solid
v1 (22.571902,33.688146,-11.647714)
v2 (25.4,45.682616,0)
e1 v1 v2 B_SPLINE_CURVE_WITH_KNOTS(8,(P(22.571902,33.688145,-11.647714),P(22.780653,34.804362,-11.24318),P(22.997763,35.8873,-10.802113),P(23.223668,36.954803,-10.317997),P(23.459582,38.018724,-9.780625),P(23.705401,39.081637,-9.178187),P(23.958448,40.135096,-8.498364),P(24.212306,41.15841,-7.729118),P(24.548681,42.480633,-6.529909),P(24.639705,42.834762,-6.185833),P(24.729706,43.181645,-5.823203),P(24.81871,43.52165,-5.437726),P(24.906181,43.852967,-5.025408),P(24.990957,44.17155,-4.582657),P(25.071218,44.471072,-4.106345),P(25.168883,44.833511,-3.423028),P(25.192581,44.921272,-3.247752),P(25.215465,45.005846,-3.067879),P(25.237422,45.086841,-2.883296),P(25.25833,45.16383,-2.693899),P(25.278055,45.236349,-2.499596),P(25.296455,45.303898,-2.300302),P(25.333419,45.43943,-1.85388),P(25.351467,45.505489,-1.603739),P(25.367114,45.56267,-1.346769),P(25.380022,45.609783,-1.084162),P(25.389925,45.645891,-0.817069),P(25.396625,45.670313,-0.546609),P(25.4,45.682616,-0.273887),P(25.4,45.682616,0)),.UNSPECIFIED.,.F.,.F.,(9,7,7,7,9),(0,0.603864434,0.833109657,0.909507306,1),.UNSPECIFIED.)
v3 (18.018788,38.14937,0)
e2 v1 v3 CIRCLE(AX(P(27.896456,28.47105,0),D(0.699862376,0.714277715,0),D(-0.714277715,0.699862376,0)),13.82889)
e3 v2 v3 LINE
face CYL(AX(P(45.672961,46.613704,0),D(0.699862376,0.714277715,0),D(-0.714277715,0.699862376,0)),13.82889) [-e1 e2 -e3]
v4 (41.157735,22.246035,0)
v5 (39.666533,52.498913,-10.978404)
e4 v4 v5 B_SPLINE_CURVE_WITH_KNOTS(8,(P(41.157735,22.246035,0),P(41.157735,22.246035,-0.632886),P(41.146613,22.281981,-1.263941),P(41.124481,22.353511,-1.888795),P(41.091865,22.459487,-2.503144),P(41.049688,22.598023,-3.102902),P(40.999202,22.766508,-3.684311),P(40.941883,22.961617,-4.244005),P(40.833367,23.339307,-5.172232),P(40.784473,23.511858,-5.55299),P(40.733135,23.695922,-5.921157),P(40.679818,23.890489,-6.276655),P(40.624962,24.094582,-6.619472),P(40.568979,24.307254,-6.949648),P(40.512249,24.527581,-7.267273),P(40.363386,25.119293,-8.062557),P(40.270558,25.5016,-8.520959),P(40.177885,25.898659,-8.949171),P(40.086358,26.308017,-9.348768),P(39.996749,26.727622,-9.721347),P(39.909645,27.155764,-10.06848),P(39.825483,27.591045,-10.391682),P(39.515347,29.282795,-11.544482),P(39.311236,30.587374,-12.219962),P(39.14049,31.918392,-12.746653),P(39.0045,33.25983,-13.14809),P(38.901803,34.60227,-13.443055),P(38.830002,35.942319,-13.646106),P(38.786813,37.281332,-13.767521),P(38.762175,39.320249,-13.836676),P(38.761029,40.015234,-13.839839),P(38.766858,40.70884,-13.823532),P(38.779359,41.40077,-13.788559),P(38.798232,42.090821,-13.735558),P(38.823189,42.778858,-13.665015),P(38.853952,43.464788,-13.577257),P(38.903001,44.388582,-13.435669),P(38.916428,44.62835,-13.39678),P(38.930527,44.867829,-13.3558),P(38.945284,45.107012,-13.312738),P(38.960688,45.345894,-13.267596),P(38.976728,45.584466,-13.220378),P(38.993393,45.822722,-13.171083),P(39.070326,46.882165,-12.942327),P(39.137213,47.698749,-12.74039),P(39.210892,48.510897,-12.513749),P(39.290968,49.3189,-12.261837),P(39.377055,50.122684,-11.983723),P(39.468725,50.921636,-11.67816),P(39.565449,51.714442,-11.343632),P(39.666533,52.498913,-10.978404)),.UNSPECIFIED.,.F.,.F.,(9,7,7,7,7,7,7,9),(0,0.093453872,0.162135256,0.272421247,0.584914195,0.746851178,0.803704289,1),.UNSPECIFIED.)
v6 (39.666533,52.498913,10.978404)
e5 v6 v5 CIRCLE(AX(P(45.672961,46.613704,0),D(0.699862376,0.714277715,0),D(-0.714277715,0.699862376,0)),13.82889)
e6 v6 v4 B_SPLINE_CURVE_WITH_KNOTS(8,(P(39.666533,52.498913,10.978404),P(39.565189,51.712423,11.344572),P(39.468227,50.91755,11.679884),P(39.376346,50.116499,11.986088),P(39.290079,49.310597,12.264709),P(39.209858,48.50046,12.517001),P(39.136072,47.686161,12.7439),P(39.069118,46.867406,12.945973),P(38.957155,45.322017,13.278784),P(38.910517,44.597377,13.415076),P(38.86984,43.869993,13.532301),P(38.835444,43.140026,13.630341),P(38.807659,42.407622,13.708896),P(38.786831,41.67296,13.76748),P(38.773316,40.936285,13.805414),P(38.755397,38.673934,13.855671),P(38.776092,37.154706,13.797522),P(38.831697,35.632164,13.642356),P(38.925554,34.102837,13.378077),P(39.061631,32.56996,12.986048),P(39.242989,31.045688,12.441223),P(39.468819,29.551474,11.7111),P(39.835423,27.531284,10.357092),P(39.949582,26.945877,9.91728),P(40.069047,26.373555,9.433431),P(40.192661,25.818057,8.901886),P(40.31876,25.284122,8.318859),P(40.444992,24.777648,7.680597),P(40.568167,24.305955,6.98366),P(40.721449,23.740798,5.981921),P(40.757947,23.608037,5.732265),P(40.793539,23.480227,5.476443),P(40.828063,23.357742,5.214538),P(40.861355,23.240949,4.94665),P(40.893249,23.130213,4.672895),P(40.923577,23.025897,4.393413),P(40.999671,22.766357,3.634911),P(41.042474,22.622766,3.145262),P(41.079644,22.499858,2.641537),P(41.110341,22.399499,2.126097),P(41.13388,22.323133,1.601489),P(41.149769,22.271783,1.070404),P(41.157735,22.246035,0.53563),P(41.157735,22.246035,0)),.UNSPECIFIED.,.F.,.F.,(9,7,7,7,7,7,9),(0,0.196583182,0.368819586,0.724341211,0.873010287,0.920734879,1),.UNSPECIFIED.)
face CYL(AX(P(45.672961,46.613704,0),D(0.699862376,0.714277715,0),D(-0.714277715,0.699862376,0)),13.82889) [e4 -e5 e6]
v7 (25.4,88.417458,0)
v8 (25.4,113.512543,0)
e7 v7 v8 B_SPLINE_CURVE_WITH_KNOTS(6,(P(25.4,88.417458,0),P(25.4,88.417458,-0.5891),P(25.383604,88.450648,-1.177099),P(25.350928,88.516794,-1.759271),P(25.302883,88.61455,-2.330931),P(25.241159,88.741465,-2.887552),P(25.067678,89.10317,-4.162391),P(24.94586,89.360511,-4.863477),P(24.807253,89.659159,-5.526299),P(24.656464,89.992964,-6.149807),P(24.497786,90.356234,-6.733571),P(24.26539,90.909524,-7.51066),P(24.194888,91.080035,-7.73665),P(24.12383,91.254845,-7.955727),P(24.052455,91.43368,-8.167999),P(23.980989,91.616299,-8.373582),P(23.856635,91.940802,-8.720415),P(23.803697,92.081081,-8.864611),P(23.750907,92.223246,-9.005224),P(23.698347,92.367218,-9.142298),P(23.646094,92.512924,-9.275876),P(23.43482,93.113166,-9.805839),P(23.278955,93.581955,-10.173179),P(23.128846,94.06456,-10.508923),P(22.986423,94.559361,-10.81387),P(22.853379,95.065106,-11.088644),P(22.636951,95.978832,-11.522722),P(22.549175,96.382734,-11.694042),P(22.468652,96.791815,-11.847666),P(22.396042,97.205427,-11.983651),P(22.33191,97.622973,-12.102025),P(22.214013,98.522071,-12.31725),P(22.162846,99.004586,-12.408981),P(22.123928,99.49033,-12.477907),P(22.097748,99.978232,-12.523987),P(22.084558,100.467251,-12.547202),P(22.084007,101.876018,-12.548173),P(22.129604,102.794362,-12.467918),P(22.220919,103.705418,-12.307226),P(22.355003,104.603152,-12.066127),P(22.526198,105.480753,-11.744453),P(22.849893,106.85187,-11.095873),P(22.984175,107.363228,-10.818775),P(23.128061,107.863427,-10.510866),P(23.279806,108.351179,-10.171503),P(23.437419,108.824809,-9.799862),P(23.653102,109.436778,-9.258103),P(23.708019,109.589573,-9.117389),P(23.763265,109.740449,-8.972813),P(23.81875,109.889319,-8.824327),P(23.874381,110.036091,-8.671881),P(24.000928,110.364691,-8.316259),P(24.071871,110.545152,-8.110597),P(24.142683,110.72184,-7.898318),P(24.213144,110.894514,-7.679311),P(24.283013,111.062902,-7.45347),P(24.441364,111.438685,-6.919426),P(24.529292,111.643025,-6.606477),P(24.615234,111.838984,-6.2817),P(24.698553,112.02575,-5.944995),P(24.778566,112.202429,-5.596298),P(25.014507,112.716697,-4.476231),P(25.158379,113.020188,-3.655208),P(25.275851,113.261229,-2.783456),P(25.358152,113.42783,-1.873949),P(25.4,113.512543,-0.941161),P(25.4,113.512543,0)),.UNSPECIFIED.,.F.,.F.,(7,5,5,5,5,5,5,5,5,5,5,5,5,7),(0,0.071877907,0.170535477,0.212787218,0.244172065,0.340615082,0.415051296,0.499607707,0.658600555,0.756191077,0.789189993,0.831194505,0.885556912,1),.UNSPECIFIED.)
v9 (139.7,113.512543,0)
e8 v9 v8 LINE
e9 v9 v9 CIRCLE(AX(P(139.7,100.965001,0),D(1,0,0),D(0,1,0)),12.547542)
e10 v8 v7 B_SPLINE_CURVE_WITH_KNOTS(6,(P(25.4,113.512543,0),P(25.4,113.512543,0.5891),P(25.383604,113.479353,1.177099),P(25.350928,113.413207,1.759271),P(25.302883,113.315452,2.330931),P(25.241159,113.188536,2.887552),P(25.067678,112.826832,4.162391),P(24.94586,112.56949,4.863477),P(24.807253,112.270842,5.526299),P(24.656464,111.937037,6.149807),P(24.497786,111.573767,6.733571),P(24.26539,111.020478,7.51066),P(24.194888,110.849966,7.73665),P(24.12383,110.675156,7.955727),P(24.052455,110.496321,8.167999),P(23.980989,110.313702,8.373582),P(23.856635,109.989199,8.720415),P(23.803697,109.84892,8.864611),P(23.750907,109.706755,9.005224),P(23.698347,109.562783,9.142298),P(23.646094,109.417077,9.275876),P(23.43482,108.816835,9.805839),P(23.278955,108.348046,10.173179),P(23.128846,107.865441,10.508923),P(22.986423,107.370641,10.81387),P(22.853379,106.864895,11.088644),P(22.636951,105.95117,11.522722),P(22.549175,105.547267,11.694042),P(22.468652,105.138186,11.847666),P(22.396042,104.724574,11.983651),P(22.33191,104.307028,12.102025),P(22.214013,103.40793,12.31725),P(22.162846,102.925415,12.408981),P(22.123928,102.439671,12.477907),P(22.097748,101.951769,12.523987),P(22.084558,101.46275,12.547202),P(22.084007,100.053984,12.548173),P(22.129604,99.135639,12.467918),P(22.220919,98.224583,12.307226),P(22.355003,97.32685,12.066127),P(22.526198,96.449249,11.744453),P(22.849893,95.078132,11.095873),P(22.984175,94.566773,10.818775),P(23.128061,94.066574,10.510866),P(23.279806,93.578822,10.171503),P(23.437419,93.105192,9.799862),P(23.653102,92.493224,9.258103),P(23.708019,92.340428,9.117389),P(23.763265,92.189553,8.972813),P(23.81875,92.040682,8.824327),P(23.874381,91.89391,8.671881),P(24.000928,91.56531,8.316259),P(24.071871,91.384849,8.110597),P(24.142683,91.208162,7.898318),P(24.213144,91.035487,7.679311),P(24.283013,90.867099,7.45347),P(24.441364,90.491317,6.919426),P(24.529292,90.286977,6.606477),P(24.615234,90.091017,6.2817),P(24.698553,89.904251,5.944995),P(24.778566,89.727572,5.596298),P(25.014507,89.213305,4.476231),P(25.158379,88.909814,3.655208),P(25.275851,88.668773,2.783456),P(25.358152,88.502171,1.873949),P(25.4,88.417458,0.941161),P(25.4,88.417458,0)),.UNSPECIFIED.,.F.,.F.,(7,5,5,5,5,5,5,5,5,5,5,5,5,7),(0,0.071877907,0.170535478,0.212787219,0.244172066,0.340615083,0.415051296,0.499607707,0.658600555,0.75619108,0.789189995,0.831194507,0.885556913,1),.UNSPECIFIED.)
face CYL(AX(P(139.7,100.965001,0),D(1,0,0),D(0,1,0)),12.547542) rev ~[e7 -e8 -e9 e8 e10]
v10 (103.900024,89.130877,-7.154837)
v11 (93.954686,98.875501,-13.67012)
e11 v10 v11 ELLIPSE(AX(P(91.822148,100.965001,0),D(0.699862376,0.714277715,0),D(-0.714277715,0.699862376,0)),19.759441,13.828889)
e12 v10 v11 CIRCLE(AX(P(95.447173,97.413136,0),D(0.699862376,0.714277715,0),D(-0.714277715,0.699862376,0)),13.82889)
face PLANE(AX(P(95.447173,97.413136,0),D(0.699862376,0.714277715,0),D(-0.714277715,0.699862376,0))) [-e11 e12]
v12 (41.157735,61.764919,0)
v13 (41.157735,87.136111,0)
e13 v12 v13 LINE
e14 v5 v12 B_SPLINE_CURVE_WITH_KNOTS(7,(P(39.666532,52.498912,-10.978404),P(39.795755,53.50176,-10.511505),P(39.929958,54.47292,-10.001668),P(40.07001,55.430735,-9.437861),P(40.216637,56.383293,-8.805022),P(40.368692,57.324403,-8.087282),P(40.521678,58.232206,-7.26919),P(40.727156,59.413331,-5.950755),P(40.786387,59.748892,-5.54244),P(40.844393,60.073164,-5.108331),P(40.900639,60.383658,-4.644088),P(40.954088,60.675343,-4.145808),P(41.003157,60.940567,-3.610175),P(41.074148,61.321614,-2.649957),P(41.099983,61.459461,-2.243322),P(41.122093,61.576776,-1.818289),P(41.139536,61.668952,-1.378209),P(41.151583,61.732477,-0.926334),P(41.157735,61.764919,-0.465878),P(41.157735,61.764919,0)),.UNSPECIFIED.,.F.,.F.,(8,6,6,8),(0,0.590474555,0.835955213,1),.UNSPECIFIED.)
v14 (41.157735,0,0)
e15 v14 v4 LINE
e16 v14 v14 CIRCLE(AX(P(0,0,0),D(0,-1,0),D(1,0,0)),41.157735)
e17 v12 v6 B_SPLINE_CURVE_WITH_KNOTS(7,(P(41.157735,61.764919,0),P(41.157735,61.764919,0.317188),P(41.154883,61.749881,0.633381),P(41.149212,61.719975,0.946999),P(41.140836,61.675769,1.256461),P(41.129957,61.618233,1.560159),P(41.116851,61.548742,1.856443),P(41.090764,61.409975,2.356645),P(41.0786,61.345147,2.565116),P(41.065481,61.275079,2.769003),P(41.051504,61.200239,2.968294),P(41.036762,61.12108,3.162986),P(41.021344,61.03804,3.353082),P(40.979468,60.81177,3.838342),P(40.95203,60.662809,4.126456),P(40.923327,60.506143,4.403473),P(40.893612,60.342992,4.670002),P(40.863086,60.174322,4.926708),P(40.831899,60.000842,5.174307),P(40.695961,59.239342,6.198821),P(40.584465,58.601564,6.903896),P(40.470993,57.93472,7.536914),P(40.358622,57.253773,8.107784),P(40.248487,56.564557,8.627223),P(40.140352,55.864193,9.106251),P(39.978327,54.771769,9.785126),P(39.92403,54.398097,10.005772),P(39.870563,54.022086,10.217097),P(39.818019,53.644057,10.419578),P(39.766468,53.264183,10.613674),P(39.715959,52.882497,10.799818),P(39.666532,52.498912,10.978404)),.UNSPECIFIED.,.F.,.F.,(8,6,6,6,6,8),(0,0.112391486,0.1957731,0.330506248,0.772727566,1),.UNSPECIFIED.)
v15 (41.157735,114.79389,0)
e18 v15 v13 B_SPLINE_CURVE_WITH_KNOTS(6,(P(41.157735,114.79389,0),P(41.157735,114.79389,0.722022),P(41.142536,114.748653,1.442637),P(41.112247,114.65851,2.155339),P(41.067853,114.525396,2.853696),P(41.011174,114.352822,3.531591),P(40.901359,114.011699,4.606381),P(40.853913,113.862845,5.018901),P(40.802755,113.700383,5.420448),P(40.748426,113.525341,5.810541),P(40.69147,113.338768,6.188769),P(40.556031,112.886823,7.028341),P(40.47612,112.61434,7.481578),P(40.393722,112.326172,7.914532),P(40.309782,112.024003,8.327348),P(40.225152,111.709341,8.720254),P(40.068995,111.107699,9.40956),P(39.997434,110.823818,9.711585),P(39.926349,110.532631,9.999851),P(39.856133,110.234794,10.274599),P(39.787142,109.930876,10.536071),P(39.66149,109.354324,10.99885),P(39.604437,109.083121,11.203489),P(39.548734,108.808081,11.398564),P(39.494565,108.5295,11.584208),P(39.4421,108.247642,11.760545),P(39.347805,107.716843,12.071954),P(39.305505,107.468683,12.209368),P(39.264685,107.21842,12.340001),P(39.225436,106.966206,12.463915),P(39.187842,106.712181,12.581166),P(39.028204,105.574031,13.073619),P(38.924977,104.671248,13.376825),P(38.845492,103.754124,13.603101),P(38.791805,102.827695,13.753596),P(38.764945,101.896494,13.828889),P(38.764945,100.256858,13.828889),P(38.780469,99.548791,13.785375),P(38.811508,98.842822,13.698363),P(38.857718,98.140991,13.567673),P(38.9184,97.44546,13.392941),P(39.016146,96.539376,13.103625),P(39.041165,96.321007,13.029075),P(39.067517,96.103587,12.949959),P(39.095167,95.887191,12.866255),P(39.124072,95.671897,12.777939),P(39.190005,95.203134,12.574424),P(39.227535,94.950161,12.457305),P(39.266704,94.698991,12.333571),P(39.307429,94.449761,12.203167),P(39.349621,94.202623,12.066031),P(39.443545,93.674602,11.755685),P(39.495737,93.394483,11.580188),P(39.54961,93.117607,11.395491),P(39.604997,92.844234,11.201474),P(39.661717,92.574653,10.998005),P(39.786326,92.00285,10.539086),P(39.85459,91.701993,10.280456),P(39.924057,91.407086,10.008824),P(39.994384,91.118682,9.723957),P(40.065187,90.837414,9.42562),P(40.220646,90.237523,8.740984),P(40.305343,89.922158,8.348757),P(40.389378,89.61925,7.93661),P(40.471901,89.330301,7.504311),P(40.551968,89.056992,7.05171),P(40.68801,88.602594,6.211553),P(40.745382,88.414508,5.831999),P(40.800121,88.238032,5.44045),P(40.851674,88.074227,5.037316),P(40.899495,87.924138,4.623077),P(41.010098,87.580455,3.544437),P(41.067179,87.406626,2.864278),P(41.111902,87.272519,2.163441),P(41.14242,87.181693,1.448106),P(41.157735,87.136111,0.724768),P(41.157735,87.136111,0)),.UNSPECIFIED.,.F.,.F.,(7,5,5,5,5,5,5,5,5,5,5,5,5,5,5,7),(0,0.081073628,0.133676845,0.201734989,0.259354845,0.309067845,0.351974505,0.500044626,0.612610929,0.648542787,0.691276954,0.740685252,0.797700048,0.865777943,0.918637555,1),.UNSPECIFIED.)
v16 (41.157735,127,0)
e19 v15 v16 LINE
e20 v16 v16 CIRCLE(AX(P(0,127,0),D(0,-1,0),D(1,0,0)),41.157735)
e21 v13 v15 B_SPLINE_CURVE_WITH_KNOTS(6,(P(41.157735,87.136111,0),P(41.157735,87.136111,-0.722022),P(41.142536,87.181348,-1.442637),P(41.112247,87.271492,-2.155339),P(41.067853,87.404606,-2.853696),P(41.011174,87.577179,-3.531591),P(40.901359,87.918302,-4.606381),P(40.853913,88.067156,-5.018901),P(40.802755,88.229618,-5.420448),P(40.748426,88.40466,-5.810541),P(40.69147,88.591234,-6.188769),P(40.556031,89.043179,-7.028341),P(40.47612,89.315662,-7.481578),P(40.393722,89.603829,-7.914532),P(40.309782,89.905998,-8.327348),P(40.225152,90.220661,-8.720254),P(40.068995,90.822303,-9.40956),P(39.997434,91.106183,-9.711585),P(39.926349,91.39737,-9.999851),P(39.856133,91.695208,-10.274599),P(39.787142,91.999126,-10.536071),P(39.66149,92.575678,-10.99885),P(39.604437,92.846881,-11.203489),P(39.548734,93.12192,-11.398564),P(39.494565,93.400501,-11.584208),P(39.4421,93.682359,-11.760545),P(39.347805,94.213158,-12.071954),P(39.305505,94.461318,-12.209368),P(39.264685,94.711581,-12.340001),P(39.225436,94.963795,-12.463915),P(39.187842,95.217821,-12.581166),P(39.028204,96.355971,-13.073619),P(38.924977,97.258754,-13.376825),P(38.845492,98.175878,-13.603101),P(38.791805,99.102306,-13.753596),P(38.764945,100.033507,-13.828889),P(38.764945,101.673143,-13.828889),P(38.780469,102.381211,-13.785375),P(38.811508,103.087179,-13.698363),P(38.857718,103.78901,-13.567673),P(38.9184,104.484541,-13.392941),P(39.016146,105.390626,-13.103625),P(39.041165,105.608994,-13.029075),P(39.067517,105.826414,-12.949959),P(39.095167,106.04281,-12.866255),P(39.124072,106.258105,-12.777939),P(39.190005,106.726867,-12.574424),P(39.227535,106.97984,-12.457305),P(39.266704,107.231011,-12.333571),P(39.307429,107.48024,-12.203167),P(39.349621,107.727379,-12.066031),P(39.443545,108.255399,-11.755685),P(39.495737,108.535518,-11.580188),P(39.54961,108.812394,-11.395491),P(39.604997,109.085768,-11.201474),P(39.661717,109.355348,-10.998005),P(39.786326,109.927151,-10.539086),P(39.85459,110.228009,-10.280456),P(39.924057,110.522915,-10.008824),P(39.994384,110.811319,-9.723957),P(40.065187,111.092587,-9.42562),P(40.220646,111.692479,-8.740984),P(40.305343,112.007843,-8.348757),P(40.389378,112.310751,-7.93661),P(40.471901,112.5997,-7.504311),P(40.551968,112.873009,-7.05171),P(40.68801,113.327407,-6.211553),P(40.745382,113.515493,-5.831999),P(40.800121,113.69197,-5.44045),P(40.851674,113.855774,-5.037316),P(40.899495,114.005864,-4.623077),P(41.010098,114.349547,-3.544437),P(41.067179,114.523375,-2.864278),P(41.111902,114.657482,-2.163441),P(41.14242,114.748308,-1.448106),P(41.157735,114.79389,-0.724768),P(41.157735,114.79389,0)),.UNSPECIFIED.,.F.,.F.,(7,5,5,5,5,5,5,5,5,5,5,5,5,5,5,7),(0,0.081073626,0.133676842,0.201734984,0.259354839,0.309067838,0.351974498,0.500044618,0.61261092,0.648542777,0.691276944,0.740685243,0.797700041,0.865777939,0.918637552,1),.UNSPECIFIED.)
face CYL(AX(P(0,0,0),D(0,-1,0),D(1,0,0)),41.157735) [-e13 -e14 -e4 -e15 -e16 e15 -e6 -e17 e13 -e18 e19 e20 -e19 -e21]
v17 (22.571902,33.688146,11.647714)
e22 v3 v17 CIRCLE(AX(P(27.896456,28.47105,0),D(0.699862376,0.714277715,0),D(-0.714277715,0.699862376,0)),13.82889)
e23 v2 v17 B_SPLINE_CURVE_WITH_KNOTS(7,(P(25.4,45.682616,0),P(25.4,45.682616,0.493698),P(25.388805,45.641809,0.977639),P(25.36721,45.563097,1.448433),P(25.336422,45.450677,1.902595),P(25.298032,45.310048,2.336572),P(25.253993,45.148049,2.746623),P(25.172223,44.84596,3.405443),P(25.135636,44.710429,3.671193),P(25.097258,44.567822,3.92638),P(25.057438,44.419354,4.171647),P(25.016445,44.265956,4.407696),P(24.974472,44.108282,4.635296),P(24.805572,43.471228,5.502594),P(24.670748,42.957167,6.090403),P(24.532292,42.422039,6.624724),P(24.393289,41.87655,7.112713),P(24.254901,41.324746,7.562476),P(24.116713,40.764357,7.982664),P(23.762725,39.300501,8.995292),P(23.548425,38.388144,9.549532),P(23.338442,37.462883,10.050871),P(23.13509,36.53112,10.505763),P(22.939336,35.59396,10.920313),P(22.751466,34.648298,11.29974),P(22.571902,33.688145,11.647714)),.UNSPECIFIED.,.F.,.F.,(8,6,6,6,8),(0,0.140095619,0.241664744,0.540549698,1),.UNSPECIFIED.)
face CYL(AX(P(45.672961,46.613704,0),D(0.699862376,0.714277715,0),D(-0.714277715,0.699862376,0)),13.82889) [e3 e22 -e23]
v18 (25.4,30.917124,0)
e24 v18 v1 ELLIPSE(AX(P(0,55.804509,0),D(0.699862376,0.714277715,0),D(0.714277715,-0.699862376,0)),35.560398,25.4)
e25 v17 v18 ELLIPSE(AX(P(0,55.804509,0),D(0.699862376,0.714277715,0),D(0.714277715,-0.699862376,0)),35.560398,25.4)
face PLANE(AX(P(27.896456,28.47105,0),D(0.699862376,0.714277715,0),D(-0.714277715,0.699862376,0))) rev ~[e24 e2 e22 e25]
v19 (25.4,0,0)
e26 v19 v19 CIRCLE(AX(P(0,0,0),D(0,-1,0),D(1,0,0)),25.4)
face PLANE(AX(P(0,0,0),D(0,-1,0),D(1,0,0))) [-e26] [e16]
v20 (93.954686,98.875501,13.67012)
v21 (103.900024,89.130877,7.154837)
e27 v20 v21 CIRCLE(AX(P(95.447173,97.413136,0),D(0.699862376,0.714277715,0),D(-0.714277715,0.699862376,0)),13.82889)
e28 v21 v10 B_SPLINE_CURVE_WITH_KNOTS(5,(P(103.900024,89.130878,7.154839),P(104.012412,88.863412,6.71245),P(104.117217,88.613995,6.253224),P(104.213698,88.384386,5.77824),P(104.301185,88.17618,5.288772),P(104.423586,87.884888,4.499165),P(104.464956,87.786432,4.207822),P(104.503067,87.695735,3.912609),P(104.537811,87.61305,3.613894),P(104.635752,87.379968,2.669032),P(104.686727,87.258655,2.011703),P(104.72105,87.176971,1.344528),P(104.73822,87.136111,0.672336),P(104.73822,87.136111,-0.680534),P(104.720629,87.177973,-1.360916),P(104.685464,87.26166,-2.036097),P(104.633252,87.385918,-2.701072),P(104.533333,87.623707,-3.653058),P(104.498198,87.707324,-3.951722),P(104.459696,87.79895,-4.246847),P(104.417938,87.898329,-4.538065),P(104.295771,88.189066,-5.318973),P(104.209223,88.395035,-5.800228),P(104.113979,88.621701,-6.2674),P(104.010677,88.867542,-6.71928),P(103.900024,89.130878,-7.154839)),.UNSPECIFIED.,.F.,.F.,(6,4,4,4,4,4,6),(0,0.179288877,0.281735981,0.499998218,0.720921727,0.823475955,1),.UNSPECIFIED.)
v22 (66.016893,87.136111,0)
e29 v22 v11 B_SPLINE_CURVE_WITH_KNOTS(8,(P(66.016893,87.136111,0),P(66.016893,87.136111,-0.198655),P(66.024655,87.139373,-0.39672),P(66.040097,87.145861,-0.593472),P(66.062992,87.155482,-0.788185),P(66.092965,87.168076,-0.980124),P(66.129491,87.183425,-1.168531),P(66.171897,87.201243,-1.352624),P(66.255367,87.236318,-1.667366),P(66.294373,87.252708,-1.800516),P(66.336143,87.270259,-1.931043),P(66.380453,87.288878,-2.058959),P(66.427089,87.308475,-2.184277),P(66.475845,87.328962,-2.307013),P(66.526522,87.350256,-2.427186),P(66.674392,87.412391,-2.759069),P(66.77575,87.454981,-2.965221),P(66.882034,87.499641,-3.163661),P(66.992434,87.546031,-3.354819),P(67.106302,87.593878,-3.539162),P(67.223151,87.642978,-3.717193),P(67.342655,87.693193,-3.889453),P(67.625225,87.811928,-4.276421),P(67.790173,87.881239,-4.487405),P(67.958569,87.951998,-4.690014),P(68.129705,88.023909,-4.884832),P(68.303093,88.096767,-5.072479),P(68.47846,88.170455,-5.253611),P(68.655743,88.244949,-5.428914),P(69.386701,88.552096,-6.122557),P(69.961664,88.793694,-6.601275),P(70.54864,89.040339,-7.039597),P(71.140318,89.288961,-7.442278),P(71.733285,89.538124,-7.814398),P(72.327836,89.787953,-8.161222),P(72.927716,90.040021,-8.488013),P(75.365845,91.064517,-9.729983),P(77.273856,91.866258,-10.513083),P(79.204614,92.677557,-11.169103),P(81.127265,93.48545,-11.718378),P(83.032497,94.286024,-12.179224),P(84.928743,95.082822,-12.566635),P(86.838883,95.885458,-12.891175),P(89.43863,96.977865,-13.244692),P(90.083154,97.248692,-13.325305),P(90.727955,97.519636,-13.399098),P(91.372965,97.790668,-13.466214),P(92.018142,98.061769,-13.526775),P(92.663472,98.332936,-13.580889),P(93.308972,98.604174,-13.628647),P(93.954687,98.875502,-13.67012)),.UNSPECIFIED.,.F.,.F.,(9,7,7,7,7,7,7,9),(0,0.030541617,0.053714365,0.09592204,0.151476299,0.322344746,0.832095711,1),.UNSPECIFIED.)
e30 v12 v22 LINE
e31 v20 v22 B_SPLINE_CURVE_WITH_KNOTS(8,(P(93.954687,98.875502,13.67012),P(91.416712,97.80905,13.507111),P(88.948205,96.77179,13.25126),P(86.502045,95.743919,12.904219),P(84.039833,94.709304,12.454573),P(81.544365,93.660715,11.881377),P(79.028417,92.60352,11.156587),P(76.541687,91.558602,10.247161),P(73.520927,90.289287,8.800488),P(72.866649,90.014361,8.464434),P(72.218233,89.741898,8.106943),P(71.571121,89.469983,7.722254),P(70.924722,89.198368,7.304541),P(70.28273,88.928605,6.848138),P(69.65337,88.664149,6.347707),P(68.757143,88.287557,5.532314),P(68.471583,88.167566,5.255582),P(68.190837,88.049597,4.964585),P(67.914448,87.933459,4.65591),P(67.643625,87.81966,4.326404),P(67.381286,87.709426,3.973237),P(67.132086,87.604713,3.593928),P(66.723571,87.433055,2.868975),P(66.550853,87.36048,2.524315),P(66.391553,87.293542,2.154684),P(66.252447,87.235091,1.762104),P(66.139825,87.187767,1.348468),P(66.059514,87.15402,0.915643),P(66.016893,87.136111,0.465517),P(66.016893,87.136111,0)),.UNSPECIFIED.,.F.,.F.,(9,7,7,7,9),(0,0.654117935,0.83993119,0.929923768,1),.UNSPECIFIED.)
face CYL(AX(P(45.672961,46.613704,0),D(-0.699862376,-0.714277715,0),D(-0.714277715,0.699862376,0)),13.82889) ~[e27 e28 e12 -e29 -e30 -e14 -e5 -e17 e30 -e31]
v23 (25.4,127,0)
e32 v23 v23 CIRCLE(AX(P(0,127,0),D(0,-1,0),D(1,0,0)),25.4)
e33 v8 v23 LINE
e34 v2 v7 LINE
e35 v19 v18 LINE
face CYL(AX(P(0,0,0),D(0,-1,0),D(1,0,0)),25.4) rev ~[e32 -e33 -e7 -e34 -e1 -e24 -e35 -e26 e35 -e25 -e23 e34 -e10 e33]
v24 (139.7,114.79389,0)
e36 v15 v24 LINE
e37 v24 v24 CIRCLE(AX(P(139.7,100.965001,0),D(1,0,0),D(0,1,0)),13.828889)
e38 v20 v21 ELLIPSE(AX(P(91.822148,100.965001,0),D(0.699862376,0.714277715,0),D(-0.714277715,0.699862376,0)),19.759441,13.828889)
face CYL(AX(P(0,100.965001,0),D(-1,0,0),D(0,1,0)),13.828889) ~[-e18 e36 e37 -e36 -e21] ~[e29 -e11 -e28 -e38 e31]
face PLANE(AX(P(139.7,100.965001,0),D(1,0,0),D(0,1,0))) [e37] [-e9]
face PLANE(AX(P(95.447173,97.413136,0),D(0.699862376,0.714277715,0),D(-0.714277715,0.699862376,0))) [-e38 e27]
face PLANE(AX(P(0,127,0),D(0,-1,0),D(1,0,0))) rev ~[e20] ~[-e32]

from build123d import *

# Parameters (mm, degrees)
F0_R           = 41.15773508
F1_DEPTH       = 127
F2_R           = 13.8288894668
F3_DEPTH       = 139.7
F4_R           = 25.4
F5_DEPTH       = 127.0010001
F9_R           = 13.8288903
F10_DEPTH      = 71.12
F10_DEPTH_BACK = 25.4
F6_R           = 12.5475422144
F11_DEPTH      = 130.13189


with BuildPart() as f1:
    # F0 (on Front) → F1 (new body)
    with BuildSketch(Plane.XZ):
        Circle(F0_R)
    extrude(amount=-F1_DEPTH)

    # F2 (on Right) → F3 (join)
    with BuildSketch(Plane.YZ):
        with Locations((100.965000689, 0)):
            Circle(F2_R)
    extrude(amount=F3_DEPTH)

    # F4 (on face) → F5 (cut, through all)
    with BuildSketch(Plane.XZ):
        Circle(F4_R)
    extrude(amount=-F5_DEPTH, mode=Mode.SUBTRACT)

    # F9 (on line) → F10 (join, two sides)
    with BuildSketch(Plane(origin=(45.6729605794, 46.6137044132, 0), x_dir=(-0.7142777152, 0.6998623761, 0), z_dir=(0.6998623761, 0.7142777152, 0))) as f10_sk:
        Circle(F9_R)
    extrude(amount=F10_DEPTH)
    extrude(f10_sk.sketch, amount=-F10_DEPTH_BACK)

    # F6 (on face) → F11 (cut)
    with BuildSketch(Plane.YZ.offset(139.7)):
        with Locations((100.965000689, 0)):
            Circle(F6_R)
    extrude(amount=-F11_DEPTH, mode=Mode.SUBTRACT)


solid = f1.part
